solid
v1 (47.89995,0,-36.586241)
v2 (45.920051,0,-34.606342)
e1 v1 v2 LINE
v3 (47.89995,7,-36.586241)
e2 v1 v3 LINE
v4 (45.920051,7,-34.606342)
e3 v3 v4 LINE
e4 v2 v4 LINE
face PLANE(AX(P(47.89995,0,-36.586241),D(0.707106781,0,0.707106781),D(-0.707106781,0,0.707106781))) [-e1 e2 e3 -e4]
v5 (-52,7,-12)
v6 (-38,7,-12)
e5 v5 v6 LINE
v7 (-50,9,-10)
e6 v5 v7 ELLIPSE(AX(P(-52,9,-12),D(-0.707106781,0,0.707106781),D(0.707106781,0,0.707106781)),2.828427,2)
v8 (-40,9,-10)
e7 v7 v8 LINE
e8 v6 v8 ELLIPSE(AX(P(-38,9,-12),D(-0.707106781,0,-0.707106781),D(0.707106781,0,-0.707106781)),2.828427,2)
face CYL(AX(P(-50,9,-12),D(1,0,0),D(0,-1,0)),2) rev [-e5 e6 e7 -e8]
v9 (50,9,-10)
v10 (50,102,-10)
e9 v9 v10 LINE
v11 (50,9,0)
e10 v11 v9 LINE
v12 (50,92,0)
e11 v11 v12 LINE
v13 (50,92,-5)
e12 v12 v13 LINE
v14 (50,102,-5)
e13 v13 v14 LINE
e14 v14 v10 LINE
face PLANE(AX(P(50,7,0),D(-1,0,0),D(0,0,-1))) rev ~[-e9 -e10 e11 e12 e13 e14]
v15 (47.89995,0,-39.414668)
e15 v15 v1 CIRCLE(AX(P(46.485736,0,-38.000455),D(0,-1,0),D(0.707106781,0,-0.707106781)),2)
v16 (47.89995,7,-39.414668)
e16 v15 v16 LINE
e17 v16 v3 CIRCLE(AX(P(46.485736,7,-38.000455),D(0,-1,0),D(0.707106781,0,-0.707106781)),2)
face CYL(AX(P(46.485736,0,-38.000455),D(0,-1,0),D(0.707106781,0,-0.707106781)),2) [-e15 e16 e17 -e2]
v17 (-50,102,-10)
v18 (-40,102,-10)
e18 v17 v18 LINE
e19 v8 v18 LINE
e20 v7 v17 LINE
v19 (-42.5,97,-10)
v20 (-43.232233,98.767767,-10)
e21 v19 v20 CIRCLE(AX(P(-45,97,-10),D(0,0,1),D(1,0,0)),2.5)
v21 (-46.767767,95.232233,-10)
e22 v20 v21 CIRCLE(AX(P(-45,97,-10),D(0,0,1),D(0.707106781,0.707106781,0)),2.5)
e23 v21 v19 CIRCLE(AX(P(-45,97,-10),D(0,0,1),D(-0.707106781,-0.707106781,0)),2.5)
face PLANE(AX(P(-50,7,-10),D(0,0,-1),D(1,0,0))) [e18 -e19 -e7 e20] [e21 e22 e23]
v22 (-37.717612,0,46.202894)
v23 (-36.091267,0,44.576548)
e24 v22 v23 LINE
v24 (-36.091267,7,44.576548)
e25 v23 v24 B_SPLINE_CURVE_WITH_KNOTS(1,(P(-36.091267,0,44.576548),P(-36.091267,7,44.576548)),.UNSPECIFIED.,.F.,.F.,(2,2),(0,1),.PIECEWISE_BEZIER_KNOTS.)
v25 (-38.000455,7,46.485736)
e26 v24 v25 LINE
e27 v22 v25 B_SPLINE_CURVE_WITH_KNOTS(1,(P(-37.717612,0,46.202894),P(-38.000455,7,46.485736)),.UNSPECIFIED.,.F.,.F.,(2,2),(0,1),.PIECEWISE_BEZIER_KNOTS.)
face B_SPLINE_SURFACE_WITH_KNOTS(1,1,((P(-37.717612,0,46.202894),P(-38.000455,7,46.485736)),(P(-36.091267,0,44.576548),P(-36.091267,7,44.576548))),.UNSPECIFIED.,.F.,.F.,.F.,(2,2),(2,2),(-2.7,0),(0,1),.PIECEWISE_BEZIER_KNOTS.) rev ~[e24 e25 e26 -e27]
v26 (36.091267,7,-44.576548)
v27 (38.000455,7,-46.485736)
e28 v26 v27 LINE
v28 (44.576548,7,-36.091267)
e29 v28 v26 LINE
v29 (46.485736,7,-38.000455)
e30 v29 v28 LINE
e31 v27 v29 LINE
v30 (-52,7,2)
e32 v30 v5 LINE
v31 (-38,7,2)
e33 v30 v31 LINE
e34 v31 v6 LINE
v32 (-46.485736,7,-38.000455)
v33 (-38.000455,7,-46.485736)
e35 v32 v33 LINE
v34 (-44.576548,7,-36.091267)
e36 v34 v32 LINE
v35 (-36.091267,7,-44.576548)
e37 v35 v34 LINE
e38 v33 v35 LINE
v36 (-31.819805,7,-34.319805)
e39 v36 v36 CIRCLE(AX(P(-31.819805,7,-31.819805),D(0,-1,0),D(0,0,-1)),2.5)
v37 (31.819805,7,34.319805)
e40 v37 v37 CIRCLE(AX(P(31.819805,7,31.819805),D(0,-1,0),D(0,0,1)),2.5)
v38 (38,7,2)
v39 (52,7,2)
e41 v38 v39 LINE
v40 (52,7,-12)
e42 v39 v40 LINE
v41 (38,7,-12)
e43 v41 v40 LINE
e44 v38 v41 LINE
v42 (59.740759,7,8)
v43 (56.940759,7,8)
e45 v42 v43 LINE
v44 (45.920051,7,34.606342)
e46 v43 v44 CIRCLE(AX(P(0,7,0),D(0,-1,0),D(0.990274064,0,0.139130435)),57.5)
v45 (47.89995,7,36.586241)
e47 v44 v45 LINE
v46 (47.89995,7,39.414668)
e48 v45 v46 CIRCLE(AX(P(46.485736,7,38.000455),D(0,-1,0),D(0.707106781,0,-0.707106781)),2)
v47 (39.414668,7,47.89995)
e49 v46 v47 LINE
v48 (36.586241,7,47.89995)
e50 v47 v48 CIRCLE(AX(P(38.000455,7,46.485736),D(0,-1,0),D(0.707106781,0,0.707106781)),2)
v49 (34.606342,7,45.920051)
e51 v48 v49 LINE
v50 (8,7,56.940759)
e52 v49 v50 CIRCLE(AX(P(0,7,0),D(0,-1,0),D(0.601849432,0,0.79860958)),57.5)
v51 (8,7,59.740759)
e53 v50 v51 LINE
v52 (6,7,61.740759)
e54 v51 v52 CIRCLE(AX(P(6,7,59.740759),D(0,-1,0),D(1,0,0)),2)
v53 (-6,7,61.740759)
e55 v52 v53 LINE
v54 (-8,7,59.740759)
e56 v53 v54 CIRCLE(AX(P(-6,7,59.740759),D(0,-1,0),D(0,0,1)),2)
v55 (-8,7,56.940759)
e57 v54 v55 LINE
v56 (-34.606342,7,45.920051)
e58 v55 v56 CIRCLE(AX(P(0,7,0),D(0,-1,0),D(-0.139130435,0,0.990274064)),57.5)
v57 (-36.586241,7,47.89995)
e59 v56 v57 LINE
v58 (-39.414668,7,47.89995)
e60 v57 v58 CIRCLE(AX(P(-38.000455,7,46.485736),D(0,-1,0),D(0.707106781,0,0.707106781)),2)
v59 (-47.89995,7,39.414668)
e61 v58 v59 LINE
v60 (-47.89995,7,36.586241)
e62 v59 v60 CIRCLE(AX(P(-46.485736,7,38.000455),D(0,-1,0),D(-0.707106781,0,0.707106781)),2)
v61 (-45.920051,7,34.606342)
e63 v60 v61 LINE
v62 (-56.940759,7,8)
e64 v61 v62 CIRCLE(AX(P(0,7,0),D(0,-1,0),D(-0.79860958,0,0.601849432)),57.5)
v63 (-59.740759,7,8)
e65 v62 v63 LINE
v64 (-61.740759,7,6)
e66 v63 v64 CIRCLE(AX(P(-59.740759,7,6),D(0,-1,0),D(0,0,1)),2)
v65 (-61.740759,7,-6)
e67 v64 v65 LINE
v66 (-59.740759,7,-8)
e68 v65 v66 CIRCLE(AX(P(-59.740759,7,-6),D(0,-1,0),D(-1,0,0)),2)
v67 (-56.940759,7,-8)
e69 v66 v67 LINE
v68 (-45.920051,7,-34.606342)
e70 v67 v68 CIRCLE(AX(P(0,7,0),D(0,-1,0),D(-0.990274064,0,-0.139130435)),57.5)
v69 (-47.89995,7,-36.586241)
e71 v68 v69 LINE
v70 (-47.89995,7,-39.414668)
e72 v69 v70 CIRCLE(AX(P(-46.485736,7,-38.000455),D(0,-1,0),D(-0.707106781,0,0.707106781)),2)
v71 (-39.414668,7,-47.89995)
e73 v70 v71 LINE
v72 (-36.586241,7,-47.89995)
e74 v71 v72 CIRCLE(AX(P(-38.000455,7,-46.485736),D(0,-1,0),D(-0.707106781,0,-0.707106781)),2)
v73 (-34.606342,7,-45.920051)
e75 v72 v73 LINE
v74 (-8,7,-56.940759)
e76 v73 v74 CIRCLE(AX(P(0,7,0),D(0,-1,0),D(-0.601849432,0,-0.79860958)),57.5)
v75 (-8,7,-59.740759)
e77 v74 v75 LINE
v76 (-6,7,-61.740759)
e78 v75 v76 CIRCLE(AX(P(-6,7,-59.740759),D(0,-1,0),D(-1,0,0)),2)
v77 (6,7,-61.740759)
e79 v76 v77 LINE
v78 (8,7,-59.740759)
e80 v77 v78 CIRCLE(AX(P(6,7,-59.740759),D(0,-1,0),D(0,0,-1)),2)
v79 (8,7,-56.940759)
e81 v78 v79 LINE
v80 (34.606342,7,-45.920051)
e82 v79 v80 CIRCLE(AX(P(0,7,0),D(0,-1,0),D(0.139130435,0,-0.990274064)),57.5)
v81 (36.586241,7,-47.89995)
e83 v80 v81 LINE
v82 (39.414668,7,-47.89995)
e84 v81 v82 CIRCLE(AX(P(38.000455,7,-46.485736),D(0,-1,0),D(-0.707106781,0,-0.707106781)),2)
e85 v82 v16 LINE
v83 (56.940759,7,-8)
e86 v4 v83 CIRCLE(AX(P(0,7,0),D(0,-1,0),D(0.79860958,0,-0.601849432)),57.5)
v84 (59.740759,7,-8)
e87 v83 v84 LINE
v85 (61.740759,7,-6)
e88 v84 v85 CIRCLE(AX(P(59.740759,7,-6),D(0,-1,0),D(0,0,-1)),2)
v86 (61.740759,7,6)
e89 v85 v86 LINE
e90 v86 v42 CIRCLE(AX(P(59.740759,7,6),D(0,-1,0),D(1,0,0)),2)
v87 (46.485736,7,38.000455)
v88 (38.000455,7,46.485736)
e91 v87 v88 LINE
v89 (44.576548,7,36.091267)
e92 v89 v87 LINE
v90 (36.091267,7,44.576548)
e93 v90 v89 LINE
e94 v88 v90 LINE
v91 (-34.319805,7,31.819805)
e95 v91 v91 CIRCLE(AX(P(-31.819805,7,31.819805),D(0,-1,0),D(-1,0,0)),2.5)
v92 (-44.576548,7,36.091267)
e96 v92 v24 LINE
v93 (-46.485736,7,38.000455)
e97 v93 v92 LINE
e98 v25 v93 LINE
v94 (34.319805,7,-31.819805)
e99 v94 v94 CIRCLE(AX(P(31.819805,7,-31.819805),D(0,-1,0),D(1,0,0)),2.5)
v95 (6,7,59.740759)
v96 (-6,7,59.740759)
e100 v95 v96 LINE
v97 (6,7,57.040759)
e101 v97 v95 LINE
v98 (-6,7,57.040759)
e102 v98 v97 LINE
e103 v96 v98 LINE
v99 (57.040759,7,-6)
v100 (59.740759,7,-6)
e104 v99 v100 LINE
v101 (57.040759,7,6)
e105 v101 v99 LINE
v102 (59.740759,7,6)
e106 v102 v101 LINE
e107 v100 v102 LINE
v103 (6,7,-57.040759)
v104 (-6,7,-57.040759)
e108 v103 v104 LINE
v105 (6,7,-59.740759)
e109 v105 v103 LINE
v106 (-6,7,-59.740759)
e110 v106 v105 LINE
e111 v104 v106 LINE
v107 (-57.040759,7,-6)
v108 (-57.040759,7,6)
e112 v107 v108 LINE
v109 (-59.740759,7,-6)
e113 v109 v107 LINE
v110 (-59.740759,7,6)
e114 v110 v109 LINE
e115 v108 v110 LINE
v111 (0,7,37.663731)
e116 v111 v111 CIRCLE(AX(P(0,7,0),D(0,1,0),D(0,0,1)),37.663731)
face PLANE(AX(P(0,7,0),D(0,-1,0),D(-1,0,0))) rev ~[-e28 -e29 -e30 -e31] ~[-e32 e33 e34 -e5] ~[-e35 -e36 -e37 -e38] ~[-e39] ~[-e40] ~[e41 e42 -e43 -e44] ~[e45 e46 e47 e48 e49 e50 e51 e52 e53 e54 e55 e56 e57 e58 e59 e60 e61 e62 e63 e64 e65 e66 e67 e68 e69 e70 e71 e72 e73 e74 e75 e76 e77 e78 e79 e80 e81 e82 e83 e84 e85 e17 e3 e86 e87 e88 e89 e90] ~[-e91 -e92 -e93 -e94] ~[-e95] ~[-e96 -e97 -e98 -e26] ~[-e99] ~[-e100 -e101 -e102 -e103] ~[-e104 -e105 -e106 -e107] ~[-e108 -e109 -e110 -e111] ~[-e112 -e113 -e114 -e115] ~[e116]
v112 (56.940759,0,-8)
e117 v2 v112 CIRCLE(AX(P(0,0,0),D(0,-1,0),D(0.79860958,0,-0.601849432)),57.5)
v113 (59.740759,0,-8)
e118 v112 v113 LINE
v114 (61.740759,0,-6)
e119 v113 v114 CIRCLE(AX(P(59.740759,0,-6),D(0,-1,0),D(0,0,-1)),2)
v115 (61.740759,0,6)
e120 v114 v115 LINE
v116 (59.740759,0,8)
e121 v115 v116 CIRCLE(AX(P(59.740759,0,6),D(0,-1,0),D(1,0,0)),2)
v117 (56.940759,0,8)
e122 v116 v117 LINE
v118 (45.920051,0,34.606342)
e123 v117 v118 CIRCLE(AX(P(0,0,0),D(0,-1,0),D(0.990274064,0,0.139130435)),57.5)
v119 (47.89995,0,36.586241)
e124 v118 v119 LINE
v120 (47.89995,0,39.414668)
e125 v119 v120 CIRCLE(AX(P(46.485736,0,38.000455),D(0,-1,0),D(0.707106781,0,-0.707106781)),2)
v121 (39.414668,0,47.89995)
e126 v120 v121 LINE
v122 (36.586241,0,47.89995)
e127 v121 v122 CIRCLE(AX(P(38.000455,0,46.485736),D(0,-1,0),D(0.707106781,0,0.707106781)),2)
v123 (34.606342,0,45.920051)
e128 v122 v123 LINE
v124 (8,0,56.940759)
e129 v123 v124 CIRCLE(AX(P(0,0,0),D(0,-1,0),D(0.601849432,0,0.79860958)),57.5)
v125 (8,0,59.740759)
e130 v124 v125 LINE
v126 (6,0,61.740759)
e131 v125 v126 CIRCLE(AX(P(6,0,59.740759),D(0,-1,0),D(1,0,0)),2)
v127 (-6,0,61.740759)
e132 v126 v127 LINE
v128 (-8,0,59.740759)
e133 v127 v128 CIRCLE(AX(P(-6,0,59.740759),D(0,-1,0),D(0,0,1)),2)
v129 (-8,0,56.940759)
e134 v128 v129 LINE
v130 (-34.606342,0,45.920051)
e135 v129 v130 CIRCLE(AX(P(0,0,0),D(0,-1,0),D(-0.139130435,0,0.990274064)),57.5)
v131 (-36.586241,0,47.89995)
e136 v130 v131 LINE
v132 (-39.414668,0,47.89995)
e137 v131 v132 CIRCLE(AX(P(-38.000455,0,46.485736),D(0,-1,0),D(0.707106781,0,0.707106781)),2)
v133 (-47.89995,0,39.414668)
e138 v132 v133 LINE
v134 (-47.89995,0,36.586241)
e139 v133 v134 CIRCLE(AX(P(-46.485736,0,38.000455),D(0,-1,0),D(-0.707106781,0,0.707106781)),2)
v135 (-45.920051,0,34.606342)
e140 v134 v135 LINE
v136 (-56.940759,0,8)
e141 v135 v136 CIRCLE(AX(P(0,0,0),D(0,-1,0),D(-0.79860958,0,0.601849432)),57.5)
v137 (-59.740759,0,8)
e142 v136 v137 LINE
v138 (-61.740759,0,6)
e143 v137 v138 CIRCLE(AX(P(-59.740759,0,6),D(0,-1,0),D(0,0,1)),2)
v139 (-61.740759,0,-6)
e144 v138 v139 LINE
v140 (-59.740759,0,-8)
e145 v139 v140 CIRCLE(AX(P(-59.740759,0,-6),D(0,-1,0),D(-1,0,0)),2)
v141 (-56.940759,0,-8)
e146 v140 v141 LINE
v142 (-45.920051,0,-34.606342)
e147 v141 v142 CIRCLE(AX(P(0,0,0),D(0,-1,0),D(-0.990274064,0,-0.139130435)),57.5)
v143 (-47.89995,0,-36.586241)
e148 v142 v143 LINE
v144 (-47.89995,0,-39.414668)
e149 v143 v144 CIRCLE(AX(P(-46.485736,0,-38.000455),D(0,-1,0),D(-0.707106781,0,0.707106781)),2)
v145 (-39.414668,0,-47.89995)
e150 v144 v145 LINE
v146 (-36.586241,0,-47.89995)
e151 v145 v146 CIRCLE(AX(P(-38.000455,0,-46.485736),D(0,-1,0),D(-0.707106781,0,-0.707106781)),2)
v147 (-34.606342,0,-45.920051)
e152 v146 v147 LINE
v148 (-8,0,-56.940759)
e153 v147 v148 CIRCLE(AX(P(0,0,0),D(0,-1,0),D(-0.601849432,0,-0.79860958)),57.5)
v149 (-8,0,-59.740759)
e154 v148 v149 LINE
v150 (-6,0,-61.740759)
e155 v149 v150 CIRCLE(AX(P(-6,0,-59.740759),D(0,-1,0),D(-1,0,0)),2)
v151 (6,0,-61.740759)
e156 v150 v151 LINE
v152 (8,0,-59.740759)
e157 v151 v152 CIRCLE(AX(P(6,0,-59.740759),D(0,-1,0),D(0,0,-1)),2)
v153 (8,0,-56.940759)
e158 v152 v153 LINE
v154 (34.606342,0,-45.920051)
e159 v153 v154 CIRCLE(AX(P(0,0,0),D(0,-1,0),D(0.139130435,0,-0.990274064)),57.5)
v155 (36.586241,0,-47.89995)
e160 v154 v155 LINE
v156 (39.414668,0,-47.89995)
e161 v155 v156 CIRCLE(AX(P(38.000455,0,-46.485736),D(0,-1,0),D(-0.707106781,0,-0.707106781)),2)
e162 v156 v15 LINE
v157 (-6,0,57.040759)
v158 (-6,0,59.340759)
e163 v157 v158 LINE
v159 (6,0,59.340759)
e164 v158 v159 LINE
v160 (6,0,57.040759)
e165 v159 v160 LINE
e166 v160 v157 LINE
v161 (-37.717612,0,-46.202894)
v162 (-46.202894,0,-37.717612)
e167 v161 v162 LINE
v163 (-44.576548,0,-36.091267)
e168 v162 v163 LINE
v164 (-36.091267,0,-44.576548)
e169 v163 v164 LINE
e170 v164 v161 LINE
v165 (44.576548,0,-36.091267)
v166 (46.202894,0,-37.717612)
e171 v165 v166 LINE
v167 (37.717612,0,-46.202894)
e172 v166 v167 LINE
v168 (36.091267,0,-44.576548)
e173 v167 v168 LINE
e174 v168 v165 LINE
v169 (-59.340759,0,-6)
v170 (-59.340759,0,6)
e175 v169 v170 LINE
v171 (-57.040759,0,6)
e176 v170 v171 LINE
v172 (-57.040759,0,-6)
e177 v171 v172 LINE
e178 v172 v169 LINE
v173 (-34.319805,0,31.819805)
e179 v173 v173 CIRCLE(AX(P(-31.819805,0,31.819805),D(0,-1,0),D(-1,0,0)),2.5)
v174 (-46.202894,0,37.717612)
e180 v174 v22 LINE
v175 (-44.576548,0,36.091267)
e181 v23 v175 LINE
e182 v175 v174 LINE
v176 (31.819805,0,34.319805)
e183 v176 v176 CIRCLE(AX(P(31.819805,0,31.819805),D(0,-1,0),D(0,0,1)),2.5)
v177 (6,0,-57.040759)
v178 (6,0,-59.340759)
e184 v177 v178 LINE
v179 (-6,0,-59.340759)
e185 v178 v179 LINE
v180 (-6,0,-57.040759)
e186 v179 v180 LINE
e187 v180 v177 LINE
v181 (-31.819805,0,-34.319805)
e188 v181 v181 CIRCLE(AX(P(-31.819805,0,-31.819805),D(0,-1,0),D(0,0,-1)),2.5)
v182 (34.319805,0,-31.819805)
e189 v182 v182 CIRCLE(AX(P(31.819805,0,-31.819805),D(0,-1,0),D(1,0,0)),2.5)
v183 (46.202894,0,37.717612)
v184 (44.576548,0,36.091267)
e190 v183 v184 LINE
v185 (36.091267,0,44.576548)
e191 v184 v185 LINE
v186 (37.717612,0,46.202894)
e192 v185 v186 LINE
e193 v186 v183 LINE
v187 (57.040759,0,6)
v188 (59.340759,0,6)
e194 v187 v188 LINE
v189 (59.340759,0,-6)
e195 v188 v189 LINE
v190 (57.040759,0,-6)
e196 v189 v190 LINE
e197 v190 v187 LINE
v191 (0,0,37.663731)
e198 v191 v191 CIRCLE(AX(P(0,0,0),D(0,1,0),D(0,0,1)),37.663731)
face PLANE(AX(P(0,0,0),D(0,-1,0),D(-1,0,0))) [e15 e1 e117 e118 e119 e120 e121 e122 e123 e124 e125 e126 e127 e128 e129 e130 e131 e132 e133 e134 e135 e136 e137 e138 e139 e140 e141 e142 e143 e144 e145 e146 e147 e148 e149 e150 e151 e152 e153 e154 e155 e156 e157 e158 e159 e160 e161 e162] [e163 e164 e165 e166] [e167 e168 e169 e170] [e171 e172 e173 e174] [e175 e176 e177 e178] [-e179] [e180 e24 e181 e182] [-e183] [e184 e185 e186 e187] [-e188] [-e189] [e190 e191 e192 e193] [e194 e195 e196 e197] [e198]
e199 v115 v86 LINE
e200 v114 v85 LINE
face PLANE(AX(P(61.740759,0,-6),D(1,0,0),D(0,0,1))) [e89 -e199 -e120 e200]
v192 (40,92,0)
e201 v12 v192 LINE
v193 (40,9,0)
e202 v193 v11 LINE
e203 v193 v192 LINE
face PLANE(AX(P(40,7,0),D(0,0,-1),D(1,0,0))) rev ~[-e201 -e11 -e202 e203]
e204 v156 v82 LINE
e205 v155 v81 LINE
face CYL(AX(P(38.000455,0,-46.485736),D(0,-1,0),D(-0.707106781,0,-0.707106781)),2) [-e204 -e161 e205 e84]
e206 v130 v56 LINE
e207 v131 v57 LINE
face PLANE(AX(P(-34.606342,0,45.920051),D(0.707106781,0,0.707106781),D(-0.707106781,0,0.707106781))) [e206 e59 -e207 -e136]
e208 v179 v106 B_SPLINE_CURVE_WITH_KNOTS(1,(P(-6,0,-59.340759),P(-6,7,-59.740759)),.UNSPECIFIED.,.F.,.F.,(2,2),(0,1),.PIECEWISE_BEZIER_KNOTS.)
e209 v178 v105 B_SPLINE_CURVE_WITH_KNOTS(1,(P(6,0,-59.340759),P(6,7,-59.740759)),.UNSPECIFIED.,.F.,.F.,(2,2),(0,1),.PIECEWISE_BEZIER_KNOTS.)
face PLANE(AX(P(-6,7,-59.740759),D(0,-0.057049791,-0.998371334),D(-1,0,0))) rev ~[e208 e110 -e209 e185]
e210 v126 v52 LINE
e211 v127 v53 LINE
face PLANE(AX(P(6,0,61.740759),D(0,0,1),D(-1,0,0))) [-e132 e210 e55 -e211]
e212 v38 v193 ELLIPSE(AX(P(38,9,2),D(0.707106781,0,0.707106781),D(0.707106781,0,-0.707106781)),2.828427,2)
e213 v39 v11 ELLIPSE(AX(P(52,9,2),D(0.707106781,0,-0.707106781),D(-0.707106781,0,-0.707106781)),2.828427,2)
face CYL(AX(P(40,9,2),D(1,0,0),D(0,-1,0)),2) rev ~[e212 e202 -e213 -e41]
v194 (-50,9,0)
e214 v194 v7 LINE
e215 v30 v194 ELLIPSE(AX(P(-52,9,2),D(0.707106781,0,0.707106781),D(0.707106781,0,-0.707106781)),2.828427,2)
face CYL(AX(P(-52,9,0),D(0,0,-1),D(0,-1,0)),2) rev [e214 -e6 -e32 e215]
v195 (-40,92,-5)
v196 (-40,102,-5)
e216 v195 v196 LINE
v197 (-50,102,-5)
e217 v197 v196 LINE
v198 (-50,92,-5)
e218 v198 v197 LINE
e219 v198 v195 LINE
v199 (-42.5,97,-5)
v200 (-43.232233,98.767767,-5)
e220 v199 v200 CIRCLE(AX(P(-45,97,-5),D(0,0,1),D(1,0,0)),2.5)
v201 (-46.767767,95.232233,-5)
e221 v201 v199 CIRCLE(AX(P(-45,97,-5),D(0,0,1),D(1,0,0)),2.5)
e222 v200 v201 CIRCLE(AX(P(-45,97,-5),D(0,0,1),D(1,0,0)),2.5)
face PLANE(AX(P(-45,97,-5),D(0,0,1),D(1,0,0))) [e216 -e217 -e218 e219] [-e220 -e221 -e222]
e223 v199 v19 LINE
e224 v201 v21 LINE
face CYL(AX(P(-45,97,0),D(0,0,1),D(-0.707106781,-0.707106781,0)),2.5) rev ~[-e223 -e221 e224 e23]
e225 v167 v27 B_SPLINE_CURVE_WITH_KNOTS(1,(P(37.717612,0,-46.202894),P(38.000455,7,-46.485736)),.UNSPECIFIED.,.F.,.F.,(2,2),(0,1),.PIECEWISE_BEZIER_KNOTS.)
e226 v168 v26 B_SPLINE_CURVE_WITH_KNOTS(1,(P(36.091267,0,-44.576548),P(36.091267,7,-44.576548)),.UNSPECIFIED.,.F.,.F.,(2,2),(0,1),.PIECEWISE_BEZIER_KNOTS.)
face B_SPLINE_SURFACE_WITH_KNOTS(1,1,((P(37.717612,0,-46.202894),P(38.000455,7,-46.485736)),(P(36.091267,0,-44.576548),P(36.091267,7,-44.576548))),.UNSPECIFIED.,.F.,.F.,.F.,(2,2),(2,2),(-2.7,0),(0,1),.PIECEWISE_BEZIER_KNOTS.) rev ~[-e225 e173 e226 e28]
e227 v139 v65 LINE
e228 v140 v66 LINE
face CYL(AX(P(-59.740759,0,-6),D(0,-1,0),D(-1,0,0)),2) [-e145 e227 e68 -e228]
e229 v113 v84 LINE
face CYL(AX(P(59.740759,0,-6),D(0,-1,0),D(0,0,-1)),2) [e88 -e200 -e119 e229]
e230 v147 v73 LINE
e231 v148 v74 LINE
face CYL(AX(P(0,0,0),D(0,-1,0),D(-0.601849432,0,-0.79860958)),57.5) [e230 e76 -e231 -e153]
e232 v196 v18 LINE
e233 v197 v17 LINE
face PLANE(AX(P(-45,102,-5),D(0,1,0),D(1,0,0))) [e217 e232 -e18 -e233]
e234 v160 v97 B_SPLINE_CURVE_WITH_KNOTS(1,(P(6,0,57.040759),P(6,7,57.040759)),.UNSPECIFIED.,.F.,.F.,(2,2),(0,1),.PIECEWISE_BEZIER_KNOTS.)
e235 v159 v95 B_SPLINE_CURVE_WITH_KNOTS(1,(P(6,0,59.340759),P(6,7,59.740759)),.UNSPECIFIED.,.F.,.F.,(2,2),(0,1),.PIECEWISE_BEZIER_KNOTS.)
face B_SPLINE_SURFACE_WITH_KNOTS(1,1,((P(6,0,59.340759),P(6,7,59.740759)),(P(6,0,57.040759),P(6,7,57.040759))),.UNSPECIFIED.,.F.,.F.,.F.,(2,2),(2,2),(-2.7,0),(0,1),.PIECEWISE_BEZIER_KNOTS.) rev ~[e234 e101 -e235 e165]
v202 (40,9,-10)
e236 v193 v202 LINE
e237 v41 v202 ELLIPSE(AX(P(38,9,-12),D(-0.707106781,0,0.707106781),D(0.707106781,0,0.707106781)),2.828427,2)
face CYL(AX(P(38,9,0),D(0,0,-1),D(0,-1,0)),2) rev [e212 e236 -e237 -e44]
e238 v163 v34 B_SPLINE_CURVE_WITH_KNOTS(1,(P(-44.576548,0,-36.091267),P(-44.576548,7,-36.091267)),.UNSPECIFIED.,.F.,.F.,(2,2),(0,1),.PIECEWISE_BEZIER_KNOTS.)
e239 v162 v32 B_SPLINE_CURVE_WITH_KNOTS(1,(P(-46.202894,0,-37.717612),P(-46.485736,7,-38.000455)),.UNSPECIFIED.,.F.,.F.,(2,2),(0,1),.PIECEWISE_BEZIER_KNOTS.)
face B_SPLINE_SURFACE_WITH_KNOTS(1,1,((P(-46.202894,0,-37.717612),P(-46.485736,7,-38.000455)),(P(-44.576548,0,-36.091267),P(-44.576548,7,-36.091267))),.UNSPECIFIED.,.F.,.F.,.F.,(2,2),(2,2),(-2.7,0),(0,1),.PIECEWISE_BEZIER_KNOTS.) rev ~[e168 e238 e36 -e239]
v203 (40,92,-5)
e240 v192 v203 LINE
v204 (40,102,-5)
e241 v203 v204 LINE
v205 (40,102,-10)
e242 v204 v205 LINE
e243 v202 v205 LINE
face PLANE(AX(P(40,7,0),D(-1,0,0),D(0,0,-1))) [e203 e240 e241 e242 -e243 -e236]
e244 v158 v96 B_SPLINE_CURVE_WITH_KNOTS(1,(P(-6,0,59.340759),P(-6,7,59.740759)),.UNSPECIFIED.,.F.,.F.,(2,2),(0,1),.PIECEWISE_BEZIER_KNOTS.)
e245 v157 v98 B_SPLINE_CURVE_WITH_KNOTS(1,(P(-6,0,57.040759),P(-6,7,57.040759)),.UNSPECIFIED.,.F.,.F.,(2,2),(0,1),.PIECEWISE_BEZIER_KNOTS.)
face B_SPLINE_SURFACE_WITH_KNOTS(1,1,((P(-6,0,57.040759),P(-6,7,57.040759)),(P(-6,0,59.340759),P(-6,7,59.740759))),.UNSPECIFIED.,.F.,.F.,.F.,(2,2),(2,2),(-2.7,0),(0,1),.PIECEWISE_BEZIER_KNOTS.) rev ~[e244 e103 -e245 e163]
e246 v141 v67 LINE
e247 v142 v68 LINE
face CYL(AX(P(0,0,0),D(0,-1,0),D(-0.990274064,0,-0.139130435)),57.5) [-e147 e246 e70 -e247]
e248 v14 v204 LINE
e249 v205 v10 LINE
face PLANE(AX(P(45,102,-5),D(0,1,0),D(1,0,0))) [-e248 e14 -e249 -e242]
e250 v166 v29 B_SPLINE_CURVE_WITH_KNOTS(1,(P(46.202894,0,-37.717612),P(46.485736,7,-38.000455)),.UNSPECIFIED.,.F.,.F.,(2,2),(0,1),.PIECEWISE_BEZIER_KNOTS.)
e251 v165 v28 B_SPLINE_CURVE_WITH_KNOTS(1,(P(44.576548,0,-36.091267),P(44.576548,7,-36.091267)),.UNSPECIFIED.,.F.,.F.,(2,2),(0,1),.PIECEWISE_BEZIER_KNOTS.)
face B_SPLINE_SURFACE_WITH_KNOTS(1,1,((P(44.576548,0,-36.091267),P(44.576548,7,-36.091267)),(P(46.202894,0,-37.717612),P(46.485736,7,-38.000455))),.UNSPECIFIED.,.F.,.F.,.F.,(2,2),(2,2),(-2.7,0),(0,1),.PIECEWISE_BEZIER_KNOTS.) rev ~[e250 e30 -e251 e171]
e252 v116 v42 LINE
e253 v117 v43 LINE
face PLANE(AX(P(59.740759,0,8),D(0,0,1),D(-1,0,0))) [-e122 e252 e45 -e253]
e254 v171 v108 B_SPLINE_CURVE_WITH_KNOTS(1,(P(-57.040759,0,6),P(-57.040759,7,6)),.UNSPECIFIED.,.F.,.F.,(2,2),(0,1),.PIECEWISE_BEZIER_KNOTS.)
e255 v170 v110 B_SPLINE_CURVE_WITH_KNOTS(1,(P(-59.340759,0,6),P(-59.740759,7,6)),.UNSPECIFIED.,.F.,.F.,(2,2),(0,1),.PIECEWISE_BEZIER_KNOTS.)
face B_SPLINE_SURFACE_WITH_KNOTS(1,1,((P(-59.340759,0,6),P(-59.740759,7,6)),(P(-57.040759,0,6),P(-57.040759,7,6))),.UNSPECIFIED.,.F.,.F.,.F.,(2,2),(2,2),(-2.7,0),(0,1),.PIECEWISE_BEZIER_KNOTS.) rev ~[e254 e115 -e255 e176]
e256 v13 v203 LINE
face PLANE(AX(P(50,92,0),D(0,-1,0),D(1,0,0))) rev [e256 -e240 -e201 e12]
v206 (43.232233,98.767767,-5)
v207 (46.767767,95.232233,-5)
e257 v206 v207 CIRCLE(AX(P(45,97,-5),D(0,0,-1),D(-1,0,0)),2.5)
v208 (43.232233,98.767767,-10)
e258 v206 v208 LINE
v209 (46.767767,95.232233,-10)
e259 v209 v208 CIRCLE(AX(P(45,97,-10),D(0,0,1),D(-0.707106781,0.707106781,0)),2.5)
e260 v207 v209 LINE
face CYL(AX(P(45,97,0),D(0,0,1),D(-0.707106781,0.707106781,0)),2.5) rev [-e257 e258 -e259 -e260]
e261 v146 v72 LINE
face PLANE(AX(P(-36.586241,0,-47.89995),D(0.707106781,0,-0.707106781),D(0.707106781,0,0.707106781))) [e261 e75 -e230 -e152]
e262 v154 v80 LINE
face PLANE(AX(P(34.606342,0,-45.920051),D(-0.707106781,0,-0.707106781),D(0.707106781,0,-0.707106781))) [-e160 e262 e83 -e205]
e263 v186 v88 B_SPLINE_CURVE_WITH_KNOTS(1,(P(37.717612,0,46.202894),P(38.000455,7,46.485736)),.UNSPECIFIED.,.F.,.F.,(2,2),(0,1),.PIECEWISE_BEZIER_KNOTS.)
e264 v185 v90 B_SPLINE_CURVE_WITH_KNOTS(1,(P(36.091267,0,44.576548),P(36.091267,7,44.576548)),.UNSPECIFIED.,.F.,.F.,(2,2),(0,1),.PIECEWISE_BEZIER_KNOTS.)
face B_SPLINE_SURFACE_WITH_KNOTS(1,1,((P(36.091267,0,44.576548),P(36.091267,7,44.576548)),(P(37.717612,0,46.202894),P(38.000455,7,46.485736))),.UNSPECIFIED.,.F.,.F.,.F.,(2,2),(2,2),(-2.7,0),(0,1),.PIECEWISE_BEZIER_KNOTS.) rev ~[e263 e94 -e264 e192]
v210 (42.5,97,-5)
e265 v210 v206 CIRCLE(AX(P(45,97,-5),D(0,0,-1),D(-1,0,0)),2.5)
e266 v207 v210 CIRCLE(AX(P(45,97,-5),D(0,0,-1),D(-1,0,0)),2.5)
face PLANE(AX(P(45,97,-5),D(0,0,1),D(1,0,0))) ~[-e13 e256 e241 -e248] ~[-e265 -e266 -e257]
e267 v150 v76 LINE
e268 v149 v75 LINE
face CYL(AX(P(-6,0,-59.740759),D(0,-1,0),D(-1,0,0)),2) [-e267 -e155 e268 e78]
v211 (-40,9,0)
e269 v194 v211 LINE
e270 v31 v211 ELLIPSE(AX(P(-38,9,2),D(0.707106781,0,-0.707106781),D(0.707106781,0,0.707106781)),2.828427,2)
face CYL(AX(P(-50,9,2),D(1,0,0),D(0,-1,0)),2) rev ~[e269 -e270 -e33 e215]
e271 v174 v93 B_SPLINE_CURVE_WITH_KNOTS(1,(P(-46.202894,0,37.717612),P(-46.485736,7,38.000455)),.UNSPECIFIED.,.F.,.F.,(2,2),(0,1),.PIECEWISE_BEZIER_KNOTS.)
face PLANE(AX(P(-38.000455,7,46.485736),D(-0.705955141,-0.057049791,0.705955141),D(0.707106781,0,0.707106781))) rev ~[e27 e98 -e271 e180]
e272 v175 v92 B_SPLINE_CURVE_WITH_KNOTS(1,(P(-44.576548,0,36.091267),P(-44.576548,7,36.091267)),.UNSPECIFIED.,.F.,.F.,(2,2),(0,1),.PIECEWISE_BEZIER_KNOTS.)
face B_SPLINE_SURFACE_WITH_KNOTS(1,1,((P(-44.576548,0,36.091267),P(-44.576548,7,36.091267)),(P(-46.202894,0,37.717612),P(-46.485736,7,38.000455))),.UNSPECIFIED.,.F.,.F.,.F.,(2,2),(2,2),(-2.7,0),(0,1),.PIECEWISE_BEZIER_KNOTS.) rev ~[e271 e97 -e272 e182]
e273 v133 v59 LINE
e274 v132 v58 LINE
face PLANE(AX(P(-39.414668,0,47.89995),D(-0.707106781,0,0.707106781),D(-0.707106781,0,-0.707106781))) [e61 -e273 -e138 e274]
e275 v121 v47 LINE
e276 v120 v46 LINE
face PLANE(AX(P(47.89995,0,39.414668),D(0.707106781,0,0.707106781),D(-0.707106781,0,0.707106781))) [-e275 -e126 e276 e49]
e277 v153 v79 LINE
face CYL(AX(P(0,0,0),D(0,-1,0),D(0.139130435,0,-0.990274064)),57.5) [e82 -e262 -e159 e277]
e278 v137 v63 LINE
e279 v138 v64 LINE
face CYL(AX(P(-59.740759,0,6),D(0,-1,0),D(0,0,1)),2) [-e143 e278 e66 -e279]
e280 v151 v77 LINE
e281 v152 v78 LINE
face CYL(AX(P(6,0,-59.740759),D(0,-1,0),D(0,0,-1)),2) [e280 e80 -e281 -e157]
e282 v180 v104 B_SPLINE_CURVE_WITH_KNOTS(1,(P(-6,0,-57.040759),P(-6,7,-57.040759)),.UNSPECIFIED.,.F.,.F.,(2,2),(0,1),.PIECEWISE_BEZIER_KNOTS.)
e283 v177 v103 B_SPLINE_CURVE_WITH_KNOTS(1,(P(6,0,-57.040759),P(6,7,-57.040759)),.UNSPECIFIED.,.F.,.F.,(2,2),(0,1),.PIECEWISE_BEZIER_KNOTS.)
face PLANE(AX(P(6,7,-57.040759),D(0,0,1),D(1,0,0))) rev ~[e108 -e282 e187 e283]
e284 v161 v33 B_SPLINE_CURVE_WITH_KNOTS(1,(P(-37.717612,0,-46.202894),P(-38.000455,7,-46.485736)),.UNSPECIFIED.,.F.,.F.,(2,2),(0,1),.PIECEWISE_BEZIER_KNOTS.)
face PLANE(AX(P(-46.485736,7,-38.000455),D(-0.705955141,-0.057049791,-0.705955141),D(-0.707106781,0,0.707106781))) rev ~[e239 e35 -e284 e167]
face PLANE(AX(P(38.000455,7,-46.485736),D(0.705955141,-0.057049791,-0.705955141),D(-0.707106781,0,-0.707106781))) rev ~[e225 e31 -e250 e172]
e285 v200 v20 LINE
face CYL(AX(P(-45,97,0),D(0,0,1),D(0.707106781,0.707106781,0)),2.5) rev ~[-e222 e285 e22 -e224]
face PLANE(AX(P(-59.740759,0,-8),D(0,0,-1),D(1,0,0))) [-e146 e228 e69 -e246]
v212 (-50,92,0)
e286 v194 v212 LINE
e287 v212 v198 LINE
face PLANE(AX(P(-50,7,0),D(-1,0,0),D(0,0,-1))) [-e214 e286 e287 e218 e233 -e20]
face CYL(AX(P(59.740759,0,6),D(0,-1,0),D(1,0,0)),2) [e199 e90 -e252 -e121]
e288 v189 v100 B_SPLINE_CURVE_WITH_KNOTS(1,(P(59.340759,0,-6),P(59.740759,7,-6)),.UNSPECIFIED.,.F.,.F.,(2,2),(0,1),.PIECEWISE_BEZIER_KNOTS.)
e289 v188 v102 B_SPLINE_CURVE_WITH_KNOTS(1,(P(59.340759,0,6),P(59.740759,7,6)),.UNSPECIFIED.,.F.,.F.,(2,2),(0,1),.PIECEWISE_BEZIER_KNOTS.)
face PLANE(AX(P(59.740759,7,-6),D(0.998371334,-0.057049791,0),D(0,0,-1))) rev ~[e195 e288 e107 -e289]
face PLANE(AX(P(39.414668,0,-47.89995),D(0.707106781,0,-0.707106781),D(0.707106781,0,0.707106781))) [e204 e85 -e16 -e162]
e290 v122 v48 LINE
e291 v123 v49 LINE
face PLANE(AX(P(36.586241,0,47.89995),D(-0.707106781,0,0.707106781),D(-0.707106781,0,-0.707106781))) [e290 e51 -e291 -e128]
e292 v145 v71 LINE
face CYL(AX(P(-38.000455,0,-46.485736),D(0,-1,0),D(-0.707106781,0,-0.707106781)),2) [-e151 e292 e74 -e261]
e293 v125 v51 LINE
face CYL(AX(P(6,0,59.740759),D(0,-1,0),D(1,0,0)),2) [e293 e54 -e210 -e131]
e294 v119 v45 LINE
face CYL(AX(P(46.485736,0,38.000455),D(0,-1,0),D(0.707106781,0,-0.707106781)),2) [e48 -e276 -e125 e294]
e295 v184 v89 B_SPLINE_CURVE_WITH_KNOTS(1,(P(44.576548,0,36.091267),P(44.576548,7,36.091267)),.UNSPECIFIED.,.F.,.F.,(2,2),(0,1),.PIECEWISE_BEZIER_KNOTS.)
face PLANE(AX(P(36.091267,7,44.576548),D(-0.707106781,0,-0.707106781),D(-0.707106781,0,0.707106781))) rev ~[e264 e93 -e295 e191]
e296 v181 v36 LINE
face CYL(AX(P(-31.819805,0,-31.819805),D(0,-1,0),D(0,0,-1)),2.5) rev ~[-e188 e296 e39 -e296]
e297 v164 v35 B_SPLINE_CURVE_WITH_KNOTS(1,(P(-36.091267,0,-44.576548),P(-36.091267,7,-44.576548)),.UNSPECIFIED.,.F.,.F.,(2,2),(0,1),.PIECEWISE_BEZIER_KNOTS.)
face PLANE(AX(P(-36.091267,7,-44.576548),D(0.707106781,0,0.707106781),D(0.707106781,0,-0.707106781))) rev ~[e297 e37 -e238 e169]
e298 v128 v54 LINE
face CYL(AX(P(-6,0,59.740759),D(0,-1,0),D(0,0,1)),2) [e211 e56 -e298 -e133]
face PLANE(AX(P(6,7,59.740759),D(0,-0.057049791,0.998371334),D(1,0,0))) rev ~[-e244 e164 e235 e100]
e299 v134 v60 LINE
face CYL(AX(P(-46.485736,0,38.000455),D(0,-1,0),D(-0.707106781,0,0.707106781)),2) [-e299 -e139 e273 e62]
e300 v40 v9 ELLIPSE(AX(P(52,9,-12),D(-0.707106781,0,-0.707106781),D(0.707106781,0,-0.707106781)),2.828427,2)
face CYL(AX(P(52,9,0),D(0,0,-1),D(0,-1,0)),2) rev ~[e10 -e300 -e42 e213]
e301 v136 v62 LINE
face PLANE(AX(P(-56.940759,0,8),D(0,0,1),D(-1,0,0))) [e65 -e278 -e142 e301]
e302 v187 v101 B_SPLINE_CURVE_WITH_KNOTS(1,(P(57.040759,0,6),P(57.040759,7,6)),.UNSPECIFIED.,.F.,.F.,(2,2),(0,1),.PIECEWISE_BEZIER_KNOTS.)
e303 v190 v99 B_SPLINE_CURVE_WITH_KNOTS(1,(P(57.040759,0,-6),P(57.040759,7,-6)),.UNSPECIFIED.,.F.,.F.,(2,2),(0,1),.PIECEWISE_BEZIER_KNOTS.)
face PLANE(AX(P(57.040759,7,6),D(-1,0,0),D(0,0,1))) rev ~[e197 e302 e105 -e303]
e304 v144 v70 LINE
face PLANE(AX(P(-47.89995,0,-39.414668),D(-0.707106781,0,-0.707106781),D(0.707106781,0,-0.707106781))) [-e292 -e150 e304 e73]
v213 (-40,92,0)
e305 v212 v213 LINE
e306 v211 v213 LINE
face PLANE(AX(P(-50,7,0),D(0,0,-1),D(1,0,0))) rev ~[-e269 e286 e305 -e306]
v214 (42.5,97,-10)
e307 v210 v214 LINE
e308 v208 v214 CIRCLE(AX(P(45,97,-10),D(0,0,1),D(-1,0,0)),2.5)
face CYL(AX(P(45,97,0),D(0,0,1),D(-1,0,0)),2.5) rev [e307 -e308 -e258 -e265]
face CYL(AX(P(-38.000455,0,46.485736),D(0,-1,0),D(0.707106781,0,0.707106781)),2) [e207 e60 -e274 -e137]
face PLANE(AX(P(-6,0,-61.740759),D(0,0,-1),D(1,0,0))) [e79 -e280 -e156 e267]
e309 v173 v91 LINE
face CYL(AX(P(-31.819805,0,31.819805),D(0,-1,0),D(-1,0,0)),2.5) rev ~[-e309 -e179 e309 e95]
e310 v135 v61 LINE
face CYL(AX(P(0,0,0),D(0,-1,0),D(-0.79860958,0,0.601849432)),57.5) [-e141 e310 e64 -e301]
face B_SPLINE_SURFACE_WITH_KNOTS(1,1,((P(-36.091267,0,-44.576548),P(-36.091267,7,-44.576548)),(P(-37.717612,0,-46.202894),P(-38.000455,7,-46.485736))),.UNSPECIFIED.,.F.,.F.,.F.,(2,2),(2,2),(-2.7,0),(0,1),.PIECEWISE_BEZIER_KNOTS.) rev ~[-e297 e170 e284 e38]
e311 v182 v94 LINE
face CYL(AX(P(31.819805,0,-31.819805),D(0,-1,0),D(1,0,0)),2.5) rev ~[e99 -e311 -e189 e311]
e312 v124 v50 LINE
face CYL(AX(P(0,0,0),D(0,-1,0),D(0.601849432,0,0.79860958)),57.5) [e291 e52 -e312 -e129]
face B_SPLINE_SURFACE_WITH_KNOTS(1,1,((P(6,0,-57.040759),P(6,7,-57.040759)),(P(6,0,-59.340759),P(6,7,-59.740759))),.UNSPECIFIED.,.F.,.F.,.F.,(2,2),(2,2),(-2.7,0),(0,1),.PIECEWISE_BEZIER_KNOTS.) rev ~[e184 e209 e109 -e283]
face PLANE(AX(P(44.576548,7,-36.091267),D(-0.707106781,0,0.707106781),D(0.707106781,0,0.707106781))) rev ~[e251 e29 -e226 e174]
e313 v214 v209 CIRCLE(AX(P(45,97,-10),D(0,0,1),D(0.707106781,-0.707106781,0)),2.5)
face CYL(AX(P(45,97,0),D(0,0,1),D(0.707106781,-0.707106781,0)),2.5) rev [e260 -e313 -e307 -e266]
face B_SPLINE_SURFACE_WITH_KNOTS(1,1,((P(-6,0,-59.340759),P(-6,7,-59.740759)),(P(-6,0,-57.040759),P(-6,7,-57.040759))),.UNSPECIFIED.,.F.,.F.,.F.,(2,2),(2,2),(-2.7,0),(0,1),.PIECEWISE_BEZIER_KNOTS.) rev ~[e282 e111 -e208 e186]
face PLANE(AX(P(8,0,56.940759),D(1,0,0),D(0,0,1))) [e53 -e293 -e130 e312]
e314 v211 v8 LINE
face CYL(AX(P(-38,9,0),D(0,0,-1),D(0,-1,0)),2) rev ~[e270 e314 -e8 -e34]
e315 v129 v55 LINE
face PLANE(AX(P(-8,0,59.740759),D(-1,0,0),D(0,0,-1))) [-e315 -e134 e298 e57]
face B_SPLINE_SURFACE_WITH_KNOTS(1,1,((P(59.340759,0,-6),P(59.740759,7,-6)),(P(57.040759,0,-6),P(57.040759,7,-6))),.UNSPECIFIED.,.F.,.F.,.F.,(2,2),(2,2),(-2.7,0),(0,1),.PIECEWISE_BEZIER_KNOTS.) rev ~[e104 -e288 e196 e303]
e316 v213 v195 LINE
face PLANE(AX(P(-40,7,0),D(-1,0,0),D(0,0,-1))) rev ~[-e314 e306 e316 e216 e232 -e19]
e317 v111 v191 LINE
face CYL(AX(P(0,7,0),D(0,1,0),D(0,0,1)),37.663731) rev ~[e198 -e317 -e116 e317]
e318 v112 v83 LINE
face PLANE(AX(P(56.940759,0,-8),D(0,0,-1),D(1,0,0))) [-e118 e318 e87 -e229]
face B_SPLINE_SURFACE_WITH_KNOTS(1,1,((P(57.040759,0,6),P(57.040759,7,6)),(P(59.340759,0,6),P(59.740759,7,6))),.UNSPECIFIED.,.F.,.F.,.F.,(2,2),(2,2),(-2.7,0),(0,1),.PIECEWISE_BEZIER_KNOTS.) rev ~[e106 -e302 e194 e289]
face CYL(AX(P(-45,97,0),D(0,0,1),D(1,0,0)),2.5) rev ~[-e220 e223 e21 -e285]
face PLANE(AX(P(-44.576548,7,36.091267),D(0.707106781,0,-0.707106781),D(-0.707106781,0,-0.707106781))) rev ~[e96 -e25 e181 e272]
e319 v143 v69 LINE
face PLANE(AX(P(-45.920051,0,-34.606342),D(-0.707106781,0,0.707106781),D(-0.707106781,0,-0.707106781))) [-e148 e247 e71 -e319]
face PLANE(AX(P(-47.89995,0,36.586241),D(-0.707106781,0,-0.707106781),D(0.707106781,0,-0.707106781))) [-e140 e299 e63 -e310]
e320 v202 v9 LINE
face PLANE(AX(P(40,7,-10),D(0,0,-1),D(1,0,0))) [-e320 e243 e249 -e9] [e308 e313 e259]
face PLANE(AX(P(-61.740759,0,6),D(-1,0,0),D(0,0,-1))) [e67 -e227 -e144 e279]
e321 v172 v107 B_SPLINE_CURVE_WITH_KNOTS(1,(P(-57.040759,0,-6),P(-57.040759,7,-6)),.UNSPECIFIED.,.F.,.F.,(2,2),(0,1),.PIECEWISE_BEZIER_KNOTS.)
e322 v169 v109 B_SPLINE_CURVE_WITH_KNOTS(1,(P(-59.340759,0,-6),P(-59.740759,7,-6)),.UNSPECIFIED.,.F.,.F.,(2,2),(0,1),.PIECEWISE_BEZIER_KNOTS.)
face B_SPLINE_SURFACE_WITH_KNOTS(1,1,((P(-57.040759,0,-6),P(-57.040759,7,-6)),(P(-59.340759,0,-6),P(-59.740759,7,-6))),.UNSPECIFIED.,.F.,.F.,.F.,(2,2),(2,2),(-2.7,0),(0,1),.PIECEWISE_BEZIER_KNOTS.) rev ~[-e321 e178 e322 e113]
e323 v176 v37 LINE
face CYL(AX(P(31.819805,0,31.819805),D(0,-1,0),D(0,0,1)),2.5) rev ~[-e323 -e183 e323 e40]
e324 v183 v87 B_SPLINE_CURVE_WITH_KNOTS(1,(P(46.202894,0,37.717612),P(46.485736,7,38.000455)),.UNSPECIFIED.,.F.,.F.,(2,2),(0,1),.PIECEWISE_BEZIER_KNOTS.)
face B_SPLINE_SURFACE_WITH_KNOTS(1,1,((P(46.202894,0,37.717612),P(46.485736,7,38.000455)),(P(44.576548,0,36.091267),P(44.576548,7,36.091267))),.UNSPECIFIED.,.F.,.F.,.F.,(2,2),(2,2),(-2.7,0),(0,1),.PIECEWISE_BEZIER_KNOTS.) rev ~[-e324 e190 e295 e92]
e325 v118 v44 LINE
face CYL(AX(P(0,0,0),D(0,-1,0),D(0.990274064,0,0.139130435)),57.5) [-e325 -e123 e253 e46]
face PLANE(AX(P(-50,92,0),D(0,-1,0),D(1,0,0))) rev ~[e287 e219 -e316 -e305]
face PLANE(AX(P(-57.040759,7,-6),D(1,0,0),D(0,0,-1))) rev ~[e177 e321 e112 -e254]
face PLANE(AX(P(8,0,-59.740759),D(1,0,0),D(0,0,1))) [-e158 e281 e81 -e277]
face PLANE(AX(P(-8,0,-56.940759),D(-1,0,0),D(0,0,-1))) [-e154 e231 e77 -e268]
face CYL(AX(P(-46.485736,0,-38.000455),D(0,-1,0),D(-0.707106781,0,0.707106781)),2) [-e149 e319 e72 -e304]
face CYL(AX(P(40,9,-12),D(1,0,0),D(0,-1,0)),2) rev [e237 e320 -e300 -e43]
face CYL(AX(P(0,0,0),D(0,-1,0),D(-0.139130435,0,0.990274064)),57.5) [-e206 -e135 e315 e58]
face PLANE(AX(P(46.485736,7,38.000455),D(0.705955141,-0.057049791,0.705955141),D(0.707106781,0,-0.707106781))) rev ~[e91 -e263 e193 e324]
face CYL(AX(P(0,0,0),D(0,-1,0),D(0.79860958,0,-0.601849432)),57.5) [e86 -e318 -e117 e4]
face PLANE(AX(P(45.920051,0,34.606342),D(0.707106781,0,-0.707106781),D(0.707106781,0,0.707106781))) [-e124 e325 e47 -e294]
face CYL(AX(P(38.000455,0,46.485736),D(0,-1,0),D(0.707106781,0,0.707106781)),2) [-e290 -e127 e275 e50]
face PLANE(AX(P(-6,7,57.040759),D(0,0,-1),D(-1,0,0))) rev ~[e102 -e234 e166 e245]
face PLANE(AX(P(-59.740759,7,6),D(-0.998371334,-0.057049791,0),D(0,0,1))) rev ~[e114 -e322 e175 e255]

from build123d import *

# Parameters (mm, degrees)
BOSS_EXTRUDE1_DEPTH = 7
SKETCH3_R           = 37.663730654
CUT_EXTRUDE1_DEPTH  = 88.594763353
CIRPATTERN1_COUNT   = 8
SKETCH8_W           = 10
SKETCH8_H           = 10
BOSS_EXTRUDE2_DEPTH = 95
SKETCH9_W           = 10
SKETCH9_H           = 10
SKETCH9_R           = 2.5
CUT_EXTRUDE2_DEPTH  = 5
CUT_EXTRUDE3_DEPTH  = 135.267801676
SKETCH11_R          = 2.5
CUT_EXTRUDE4_DEPTH  = 135.267801676
CIRPATTERN2_COUNT   = 4
FILLET1_R           = 2


with BuildPart() as part:
    # Sketch1 → Boss-Extrude1 (new body)
    with BuildSketch(Plane(origin=(0, 0, 0), x_dir=(1, 0, 0), z_dir=(0, 1, 0))):
        with BuildLine():
            Line((-8, 56.940758688), (-8, 59.740758688))
            ThreePointArc((-8, 59.740758688), (-7.414213562, 61.154972251), (-6, 61.740758688))
            Line((-6, 61.740758688), (6, 61.740758688))
            ThreePointArc((6, 61.740758688), (7.414213562, 61.154972251), (8, 59.740758688))
            Line((8, 59.740758688), (8, 56.940758688))
            ThreePointArc((8, 56.940758688), (22.004297361, 53.123073119), (34.606342345, 45.920050844))
            Line((34.606342345, 45.920050844), (36.586241332, 47.899949831))
            ThreePointArc((36.586241332, 47.899949831), (38.000454895, 48.485736269), (39.414668457, 47.899949831))
            Line((39.414668457, 47.899949831), (47.899949831, 39.414668457))
            ThreePointArc((47.899949831, 39.414668457), (48.485736269, 38.000454895), (47.899949831, 36.586241332))
            Line((47.899949831, 36.586241332), (45.920050844, 34.606342345))
            ThreePointArc((45.920050844, 34.606342345), (53.123073119, 22.004297361), (56.940758688, 8))
            Line((56.940758688, 8), (59.740758688, 8))
            ThreePointArc((59.740758688, 8), (61.154972251, 7.414213562), (61.740758688, 6))
            Line((61.740758688, 6), (61.740758688, -6))
            ThreePointArc((61.740758688, -6), (61.154972251, -7.414213562), (59.740758688, -8))
            Line((59.740758688, -8), (56.940758688, -8))
            ThreePointArc((56.940758688, -8), (53.123073119, -22.004297361), (45.920050844, -34.606342345))
            Line((45.920050844, -34.606342345), (47.899949831, -36.586241332))
            ThreePointArc((47.899949831, -36.586241332), (48.485736269, -38.000454895), (47.899949831, -39.414668457))
            Line((47.899949831, -39.414668457), (39.414668457, -47.899949831))
            ThreePointArc((39.414668457, -47.899949831), (38.000454895, -48.485736269), (36.586241332, -47.899949831))
            Line((36.586241332, -47.899949831), (34.606342345, -45.920050844))
            ThreePointArc((34.606342345, -45.920050844), (22.004297361, -53.123073119), (8, -56.940758688))
            Line((8, -56.940758688), (8, -59.740758688))
            ThreePointArc((8, -59.740758688), (7.414213562, -61.154972251), (6, -61.740758688))
            Line((6, -61.740758688), (-6, -61.740758688))
            ThreePointArc((-6, -61.740758688), (-7.414213562, -61.154972251), (-8, -59.740758688))
            Line((-8, -59.740758688), (-8, -56.940758688))
            ThreePointArc((-8, -56.940758688), (-22.004297361, -53.123073119), (-34.606342345, -45.920050844))
            Line((-34.606342345, -45.920050844), (-36.586241332, -47.899949831))
            ThreePointArc((-36.586241332, -47.899949831), (-38.000454895, -48.485736269), (-39.414668457, -47.899949831))
            Line((-39.414668457, -47.899949831), (-47.899949831, -39.414668457))
            ThreePointArc((-47.899949831, -39.414668457), (-48.485736269, -38.000454895), (-47.899949831, -36.586241332))
            Line((-47.899949831, -36.586241332), (-45.920050844, -34.606342345))
            ThreePointArc((-45.920050844, -34.606342345), (-53.123073119, -22.004297361), (-56.940758688, -8))
            Line((-56.940758688, -8), (-59.740758688, -8))
            ThreePointArc((-59.740758688, -8), (-61.154972251, -7.414213562), (-61.740758688, -6))
            Line((-61.740758688, -6), (-61.740758688, 6))
            ThreePointArc((-61.740758688, 6), (-61.154972251, 7.414213562), (-59.740758688, 8))
            Line((-59.740758688, 8), (-56.940758688, 8))
            ThreePointArc((-56.940758688, 8), (-53.123073119, 22.004297361), (-45.920050844, 34.606342345))
            Line((-45.920050844, 34.606342345), (-47.899949831, 36.586241332))
            ThreePointArc((-47.899949831, 36.586241332), (-48.485736269, 38.000454895), (-47.899949831, 39.414668457))
            Line((-47.899949831, 39.414668457), (-39.414668457, 47.899949831))
            ThreePointArc((-39.414668457, 47.899949831), (-38.000454895, 48.485736269), (-36.586241332, 47.899949831))
            Line((-36.586241332, 47.899949831), (-34.606342345, 45.920050844))
            ThreePointArc((-34.606342345, 45.920050844), (-22.004297361, 53.123073119), (-8, 56.940758688))
        make_face()
    extrude(amount=BOSS_EXTRUDE1_DEPTH)

    # Sketch3 → Cut-Extrude1 (cut, through all)
    with BuildSketch(Plane(origin=(0, 7, 0), x_dir=(1, 0, 0), z_dir=(0, 1, 0))):
        with Locations(Location((0, 0, 0), (0, 0, 270))):
            Circle(SKETCH3_R)
    extrude(amount=-CUT_EXTRUDE1_DEPTH, mode=Mode.SUBTRACT)

    # Sketch7 → Cut-Loft1 section 0
    with BuildSketch(Plane.XZ):
        with BuildLine():
            Line((-6, -57.040758688), (6, -57.040758688))
            Line((6, -57.040758688), (6, -59.340758688))
            Line((6, -59.340758688), (-6, -59.340758688))
            Line((-6, -59.340758688), (-6, -57.040758688))
        make_face()
    # Sketch5 → Cut-Loft1 section 1
    with BuildSketch(Plane(origin=(0, 7, 0), x_dir=(1, 0, 0), z_dir=(0, 1, 0))):
        with BuildLine():
            Line((-6, 59.740758688), (6, 59.740758688))
            Line((6, 59.740758688), (6, 57.040758688))
            Line((6, 57.040758688), (-6, 57.040758688))
            Line((-6, 57.040758688), (-6, 59.740758688))
        make_face()
    cut_loft1 = loft(mode=Mode.SUBTRACT)

    # CirPattern1: Cut-Loft1 ×8 about axis
    cirpattern1_axis = Axis((0, 0, 0), (0, 1, 0))
    for i in range(1, CIRPATTERN1_COUNT):
        add(cut_loft1.rotate(cirpattern1_axis, i * 360 / CIRPATTERN1_COUNT), mode=Mode.SUBTRACT)

    # Sketch8 → Boss-Extrude2 (add)
    with BuildSketch(Plane(origin=(0, 7, 0), x_dir=(1, 0, 0), z_dir=(0, 1, 0))):
        with Locations((45, 5)):
            Rectangle(SKETCH8_W, SKETCH8_H)
        with Locations((-45, 5)):
            Rectangle(SKETCH8_W, SKETCH8_H)
    extrude(amount=BOSS_EXTRUDE2_DEPTH)

    # Sketch9 → Cut-Extrude2 (cut)
    with BuildSketch(Plane.XY):
        with Locations((-45, 97)):
            Rectangle(SKETCH9_W, SKETCH9_H)
        with Locations((-45, 97)):
            Circle(SKETCH9_R, mode=Mode.SUBTRACT)
    cut_extrude2 = extrude(amount=-CUT_EXTRUDE2_DEPTH, mode=Mode.SUBTRACT)

    # Sketch9<2> → Cut-Extrude3 (cut, through all)
    with BuildSketch(Plane.XY):
        with BuildLine():
            ThreePointArc((-42.5, 97), (-42.690301169, 97.956708581), (-43.232233047, 98.767766953))
            Line((-43.232233047, 98.767766953), (-46.767766953, 95.232233047))
            ThreePointArc((-46.767766953, 95.232233047), (-44.043291419, 94.690301169), (-42.5, 97))
        make_face()
        with BuildLine():
            Line((-46.767766953, 95.232233047), (-43.232233047, 98.767766953))
            ThreePointArc((-43.232233047, 98.767766953), (-46.767766953, 98.767766953), (-46.767766953, 95.232233047))
        make_face()
    cut_extrude3 = extrude(amount=-CUT_EXTRUDE3_DEPTH, mode=Mode.SUBTRACT)

    # Mirror1: Cut-Extrude2, Cut-Extrude3 across plane
    add(cut_extrude2.mirror(Plane(origin=(0, 0, 0), x_dir=(0, 0, 1), z_dir=(1, 0, 0))), mode=Mode.SUBTRACT)
    add(cut_extrude3.mirror(Plane(origin=(0, 0, 0), x_dir=(0, 0, 1), z_dir=(1, 0, 0))), mode=Mode.SUBTRACT)

    # Sketch11 → Cut-Extrude4 (cut, through all)
    with BuildSketch(Plane.XZ):
        with Locations(Location((-31.819805153, -31.819805153, 0), (0, 0, 270))):
            Circle(SKETCH11_R)
    cut_extrude4 = extrude(amount=-CUT_EXTRUDE4_DEPTH, mode=Mode.SUBTRACT)

    # CirPattern2: Cut-Extrude4 ×4 about axis
    cirpattern2_axis = Axis((0, 0, 0), (0, 1, 0))
    for i in range(1, CIRPATTERN2_COUNT):
        add(cut_extrude4.rotate(cirpattern2_axis, i * 360 / CIRPATTERN2_COUNT), mode=Mode.SUBTRACT)

    # Fillet1
    fillet1_edges = [part.edges().sort_by_distance(p)[0] for p in [
        (50, 7, -5),
        (45, 7, -10),
        (40, 7, -5),
        (45, 7, 0),
        (-45, 7, -10),
        (-50, 7, -5),
        (-45, 7, 0),
        (-40, 7, -5),
    ]]
    fillet(fillet1_edges, radius=FILLET1_R)


solid = part.part
